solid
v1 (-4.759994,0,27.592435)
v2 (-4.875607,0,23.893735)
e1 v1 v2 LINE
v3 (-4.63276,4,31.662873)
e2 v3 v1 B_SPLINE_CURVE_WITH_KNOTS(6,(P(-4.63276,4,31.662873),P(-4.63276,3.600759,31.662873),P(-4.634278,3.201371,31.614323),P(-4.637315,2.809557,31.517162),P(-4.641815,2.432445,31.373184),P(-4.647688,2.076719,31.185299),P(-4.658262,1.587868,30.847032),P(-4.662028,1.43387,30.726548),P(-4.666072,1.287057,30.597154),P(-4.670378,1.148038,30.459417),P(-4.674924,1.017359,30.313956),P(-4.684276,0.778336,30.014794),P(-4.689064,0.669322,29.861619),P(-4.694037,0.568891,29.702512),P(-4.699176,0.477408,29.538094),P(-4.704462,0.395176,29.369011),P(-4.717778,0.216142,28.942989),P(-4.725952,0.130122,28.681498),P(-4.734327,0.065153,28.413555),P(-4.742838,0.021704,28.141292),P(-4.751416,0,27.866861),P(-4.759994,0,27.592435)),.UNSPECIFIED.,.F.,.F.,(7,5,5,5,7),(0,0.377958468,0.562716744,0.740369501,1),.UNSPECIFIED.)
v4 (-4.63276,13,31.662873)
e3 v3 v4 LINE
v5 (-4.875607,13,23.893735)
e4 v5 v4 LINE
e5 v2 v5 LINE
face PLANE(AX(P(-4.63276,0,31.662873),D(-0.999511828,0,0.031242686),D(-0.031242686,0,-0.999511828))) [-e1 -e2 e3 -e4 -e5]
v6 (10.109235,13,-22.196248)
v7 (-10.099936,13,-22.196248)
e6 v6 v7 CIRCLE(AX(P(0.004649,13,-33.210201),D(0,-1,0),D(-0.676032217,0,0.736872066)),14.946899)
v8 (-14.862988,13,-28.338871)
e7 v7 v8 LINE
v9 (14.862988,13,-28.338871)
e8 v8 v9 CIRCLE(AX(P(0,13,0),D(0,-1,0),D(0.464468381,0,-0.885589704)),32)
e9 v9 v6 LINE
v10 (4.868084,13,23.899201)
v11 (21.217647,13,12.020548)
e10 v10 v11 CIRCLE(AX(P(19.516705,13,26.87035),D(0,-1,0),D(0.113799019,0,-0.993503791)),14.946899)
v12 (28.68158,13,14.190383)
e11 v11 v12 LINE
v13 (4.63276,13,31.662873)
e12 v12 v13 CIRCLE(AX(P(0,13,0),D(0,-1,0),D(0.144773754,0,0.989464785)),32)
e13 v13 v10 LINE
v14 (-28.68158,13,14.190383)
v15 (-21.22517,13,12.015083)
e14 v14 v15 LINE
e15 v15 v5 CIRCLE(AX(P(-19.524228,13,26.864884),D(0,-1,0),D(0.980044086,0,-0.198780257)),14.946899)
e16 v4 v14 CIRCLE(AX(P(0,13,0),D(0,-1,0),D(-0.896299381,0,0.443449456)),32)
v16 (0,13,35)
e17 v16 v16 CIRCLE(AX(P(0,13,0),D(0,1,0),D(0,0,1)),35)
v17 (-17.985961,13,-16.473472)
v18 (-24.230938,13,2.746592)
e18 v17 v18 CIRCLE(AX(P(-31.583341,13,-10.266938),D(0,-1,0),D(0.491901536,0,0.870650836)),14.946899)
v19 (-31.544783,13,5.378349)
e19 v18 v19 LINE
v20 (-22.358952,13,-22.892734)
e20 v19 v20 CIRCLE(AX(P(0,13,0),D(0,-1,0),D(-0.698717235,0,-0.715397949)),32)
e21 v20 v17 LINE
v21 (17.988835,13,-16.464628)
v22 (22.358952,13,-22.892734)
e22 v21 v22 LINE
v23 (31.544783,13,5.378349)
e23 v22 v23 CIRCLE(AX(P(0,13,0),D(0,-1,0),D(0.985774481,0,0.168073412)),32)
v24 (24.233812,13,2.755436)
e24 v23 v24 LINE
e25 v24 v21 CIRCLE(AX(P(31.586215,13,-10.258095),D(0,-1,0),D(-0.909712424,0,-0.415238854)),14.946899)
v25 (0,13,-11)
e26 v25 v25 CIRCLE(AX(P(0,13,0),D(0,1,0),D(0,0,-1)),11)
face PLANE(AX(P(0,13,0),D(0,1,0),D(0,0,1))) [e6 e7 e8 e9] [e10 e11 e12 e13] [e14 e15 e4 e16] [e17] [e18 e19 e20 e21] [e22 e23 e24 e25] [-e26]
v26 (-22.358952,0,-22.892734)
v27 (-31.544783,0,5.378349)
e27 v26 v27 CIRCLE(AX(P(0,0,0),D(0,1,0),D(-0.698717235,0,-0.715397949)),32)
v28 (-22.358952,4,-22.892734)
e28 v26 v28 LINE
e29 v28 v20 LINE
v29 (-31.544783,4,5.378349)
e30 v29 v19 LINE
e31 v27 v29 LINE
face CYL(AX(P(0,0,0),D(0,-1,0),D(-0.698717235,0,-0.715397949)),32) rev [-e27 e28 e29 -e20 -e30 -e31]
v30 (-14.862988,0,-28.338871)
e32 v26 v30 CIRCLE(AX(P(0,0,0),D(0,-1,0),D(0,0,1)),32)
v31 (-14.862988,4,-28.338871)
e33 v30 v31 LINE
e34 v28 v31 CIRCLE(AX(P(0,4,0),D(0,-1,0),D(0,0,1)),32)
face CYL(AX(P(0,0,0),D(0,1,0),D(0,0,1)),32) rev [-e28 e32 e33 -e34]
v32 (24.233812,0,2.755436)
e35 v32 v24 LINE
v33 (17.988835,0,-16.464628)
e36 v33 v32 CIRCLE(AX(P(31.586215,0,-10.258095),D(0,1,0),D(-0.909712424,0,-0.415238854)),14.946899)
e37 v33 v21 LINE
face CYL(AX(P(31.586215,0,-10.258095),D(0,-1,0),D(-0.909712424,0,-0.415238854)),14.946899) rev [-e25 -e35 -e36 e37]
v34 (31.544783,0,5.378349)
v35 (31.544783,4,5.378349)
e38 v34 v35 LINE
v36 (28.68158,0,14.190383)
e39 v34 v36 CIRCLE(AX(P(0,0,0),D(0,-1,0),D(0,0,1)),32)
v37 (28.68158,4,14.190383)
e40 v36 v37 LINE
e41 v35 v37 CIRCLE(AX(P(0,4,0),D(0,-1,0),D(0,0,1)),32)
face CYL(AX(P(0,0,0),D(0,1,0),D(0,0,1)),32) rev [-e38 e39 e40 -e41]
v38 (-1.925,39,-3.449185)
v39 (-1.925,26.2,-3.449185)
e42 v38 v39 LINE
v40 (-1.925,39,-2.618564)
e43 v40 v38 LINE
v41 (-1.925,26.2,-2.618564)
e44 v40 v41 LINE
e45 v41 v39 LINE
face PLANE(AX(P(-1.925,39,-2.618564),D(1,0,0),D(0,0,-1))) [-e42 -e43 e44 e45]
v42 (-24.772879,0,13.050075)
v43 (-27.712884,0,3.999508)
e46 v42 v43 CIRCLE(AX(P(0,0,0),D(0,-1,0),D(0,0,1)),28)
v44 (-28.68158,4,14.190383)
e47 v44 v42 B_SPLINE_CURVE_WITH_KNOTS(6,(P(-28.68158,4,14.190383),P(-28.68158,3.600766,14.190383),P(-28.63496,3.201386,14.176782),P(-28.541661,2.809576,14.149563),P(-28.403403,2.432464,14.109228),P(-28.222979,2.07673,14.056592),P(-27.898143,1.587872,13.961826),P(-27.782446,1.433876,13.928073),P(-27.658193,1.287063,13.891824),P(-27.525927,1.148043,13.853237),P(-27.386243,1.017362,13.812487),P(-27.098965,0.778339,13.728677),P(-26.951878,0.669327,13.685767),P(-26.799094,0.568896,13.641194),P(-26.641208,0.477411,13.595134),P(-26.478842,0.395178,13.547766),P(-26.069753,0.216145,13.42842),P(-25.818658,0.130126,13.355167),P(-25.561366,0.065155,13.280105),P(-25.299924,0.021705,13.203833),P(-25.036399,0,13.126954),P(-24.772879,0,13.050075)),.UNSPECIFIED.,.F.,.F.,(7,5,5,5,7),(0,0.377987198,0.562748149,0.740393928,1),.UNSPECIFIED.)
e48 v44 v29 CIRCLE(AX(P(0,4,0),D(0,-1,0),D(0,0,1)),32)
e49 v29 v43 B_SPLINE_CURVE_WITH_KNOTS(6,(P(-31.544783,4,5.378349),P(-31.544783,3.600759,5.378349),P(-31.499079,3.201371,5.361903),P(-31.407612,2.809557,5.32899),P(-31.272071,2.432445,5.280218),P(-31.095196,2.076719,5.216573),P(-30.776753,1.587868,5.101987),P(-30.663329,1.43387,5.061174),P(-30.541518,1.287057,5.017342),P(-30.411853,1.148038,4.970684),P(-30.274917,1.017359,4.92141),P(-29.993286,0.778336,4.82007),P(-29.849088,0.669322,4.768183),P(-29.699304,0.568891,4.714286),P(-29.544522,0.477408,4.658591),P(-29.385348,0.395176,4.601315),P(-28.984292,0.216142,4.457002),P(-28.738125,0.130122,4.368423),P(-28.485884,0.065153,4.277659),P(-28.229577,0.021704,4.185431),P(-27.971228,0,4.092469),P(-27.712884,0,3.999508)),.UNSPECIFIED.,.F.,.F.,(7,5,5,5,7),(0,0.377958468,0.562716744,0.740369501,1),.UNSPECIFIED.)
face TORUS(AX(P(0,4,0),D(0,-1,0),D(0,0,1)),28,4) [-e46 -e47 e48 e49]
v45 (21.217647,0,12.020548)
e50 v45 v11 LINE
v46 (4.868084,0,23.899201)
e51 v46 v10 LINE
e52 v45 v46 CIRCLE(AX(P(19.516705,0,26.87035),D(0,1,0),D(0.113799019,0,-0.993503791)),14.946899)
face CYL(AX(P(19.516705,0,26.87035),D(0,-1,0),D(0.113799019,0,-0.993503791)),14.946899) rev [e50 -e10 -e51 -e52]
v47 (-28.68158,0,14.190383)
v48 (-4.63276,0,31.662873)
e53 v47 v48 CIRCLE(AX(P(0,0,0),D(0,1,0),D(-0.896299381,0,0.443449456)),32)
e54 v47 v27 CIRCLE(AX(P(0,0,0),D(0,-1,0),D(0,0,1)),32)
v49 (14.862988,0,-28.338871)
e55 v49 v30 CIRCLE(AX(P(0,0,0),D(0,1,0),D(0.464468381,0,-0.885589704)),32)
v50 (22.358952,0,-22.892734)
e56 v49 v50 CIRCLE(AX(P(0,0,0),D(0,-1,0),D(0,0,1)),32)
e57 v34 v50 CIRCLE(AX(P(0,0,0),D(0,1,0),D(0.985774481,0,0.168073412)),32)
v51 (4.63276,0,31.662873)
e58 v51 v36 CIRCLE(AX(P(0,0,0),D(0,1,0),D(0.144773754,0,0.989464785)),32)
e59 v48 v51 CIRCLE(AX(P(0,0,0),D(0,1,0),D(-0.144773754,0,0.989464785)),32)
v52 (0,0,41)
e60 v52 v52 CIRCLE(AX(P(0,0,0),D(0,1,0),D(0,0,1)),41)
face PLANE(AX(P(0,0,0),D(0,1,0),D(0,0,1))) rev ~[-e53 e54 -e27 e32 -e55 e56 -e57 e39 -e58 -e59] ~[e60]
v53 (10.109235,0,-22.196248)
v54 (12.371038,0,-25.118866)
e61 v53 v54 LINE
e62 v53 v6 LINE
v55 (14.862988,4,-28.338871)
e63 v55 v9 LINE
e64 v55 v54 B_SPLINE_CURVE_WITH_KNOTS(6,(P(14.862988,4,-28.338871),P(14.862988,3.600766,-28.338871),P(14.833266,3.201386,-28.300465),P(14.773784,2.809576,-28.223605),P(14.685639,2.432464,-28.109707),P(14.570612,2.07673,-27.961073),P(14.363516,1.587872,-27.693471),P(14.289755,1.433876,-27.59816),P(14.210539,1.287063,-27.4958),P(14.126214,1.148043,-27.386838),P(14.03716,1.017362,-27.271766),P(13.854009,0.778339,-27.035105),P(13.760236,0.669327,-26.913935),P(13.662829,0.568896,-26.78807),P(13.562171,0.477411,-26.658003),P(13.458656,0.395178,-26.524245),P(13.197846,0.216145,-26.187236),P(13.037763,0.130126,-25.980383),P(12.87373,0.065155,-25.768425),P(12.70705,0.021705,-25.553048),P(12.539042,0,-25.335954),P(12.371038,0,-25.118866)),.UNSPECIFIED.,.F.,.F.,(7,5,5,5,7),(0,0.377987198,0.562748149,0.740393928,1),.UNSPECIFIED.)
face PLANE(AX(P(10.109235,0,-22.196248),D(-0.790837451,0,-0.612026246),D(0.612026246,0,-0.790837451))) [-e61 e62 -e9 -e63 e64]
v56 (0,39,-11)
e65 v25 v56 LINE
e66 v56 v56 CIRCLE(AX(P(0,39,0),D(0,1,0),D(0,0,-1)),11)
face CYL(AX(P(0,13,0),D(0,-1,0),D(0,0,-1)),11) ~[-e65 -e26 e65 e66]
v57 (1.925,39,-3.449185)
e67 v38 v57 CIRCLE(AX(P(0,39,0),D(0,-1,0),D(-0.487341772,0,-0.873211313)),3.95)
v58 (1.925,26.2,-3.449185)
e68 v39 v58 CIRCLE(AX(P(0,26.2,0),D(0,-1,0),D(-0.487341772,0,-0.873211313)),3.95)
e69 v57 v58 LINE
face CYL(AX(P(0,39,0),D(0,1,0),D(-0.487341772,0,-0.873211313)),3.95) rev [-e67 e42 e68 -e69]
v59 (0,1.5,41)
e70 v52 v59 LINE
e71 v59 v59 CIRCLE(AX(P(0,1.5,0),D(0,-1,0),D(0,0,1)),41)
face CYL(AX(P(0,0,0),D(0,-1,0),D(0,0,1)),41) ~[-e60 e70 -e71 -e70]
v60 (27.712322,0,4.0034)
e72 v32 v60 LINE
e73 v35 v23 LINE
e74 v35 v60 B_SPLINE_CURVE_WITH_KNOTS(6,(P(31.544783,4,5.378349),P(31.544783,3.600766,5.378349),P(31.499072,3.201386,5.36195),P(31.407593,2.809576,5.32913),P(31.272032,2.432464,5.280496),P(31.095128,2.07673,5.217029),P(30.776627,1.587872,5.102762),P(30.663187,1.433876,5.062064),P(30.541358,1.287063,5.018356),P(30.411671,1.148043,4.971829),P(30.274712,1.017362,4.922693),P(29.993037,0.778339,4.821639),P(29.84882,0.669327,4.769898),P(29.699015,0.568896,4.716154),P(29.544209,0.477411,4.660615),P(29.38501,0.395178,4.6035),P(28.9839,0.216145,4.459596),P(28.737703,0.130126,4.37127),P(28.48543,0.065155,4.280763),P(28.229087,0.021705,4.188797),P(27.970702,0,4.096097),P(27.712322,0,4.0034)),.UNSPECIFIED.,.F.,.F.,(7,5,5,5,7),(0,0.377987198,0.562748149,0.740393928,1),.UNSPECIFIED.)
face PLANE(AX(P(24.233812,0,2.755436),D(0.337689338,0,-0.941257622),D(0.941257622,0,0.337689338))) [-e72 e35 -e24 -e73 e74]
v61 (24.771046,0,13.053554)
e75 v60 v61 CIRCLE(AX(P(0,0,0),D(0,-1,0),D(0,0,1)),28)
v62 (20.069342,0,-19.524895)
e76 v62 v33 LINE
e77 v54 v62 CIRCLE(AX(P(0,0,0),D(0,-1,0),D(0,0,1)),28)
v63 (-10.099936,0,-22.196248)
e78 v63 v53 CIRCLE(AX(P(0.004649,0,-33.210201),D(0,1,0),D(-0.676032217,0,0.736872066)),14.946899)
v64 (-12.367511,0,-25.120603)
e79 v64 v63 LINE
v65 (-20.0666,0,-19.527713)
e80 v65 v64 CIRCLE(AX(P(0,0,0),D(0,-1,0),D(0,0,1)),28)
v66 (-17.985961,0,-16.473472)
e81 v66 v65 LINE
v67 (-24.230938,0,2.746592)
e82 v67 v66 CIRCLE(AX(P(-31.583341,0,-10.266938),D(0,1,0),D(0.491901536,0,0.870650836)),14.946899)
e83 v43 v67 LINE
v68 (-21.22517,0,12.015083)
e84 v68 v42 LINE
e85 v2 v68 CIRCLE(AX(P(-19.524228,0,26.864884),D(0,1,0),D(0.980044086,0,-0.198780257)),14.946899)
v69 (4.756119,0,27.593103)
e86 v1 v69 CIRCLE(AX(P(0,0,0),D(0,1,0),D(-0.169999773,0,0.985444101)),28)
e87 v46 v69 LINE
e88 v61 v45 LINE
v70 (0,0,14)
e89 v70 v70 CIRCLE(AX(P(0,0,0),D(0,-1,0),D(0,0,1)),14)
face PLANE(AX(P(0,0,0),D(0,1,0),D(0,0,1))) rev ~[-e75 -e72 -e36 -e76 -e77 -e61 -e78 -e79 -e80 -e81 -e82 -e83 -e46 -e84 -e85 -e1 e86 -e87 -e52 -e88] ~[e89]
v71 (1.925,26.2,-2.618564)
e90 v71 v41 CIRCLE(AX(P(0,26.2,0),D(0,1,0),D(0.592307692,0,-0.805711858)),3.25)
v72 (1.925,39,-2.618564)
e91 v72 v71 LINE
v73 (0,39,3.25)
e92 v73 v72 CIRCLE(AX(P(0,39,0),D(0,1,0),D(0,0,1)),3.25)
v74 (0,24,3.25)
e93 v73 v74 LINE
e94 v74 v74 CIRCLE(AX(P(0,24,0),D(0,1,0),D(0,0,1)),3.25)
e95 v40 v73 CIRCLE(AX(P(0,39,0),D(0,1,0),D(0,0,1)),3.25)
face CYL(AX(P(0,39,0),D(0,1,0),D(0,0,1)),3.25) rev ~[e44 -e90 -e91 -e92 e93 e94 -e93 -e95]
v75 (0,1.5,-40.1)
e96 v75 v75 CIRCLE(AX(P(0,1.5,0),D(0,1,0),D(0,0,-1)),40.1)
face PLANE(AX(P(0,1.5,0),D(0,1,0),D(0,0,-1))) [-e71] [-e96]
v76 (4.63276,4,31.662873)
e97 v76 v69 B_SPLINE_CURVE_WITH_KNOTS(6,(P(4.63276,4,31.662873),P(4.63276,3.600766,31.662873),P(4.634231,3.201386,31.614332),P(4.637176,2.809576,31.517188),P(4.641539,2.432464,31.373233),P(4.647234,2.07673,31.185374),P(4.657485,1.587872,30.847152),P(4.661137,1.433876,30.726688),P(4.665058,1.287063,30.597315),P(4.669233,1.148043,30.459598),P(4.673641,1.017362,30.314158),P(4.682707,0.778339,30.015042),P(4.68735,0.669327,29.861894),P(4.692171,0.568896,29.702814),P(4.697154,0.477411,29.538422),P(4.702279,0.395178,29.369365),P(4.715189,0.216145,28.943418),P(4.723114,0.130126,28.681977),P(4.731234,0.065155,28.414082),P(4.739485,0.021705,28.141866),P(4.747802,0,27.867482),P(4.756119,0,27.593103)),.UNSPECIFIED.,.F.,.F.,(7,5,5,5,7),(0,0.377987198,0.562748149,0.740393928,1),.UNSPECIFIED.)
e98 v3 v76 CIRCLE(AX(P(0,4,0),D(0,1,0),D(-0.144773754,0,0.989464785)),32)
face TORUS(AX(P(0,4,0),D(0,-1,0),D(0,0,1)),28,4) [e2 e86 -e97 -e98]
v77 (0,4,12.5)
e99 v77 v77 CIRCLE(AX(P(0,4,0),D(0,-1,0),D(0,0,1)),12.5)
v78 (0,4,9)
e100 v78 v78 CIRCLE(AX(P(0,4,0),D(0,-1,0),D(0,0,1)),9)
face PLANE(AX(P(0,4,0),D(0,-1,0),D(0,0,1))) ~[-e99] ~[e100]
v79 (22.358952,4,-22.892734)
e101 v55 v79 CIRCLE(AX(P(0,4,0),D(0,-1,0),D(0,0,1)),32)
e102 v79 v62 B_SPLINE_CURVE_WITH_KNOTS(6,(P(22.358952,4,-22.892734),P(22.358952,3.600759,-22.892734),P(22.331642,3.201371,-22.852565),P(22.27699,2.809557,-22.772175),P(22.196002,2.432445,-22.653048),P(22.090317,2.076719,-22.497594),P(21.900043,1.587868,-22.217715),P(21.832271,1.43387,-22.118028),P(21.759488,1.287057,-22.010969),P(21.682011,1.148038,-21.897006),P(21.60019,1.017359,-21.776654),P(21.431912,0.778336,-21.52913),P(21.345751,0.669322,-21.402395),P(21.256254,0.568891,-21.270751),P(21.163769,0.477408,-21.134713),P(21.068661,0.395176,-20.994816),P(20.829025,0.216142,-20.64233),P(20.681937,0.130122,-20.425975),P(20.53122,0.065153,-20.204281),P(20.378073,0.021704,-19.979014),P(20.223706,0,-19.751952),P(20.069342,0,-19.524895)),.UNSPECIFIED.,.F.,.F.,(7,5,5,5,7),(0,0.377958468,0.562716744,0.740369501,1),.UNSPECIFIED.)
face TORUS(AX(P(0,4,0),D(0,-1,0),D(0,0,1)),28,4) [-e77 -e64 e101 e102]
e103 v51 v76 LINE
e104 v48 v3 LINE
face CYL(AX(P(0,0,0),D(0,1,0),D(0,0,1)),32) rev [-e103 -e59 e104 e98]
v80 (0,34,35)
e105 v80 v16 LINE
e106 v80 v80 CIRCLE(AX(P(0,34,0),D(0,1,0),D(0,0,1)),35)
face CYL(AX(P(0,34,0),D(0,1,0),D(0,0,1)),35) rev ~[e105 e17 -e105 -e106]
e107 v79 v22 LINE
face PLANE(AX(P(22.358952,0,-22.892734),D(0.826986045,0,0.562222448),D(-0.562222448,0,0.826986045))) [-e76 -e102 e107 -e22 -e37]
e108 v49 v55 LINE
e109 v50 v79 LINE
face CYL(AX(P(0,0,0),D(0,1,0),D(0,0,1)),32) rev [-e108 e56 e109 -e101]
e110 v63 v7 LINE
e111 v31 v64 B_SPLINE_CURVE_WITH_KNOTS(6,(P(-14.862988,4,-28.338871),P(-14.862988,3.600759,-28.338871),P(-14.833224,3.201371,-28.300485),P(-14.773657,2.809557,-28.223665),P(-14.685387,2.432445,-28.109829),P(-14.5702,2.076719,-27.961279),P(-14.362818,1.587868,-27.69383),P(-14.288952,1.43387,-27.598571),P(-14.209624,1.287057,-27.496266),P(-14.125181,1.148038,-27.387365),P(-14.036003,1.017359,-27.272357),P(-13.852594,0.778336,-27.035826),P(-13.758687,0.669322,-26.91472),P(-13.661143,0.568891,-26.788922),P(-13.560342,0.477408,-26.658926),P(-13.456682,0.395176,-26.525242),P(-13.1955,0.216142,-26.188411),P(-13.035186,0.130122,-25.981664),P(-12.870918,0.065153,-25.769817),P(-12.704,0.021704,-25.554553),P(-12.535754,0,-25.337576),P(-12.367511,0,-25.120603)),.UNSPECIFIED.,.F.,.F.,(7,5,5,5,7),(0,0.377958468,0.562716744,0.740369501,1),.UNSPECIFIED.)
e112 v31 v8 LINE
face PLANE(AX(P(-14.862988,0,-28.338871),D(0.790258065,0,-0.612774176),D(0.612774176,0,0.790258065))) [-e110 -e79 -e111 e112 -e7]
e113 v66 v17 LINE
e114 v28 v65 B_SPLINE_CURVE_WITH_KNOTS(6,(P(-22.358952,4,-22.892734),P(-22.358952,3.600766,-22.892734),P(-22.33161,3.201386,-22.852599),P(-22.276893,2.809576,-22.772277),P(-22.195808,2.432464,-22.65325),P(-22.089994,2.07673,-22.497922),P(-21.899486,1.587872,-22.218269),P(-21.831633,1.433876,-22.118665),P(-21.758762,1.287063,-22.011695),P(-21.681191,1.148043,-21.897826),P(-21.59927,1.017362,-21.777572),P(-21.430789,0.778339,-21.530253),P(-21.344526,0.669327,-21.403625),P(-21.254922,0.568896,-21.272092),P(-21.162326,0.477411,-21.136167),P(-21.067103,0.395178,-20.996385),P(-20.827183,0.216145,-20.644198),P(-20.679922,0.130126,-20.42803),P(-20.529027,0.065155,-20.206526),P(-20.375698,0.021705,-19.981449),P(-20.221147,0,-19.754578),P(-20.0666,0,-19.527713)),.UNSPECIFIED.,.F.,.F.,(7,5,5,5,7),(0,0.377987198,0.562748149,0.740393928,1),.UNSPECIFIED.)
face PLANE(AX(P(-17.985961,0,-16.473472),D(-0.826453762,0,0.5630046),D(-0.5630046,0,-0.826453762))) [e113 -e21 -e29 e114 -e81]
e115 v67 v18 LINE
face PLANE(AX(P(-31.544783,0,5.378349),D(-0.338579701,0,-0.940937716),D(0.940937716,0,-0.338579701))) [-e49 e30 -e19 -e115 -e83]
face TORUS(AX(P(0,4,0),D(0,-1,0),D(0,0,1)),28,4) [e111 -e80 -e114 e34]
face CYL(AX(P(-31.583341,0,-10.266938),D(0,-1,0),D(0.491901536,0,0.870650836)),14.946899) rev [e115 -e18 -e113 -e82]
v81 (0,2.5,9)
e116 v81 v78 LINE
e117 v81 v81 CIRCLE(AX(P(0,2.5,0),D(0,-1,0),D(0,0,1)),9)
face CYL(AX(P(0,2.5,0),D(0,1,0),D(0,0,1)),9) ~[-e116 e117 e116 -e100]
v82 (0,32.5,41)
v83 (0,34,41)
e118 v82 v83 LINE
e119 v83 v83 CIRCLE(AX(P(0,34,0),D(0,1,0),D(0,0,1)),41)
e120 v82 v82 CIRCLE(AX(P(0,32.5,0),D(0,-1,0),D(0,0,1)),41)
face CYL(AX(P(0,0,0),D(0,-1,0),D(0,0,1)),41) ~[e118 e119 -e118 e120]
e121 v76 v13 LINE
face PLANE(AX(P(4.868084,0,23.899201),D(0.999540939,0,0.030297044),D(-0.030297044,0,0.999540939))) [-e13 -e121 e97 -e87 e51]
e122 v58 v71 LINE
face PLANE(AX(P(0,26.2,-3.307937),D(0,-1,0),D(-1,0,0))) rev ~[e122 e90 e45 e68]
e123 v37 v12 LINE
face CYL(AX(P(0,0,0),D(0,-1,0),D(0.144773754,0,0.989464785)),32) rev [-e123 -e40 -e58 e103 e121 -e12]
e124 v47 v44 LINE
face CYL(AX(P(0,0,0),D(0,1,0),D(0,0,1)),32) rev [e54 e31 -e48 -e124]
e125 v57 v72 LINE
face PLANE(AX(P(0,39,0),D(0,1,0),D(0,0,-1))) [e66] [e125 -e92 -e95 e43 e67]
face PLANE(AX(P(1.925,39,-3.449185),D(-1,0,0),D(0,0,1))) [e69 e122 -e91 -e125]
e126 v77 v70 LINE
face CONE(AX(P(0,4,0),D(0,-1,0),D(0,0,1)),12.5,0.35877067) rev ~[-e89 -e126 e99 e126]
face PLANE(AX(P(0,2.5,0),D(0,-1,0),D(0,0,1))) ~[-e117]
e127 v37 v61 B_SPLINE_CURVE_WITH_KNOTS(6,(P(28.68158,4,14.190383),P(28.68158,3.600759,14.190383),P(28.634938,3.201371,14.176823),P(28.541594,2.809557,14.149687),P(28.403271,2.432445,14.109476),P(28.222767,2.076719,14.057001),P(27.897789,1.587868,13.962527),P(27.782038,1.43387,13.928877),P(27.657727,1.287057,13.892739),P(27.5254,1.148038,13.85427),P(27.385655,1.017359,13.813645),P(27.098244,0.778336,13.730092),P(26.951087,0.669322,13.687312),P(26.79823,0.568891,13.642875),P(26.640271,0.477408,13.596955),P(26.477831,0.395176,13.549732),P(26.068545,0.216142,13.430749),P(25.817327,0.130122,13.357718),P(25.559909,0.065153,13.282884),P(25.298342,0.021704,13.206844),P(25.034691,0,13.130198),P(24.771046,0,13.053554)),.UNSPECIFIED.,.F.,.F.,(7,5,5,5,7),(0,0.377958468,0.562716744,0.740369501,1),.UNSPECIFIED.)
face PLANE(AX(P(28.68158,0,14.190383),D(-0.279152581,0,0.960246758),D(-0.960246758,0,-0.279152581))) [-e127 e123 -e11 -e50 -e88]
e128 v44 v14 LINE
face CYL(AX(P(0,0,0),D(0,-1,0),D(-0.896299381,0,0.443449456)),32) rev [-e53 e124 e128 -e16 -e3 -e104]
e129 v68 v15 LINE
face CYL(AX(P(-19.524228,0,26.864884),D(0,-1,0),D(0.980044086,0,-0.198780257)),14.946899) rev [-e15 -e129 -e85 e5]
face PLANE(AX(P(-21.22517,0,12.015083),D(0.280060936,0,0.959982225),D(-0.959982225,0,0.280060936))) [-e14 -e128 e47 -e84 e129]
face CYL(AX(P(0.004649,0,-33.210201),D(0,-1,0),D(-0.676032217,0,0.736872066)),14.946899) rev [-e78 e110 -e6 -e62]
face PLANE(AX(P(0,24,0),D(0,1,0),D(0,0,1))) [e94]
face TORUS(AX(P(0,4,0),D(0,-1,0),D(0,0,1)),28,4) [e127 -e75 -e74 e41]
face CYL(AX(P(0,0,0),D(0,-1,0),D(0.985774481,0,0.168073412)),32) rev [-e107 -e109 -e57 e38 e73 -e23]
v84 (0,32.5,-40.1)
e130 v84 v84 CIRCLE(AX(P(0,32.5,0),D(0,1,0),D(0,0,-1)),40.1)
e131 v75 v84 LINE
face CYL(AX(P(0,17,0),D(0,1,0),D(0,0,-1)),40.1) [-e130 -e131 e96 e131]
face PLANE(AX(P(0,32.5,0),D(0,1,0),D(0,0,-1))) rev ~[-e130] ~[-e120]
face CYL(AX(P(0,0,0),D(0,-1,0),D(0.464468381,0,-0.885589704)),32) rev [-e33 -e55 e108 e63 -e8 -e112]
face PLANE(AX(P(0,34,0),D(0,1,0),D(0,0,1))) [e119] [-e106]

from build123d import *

# Parameters (mm, degrees)
SKETCH1_R             = 41
BOSS_EXTRUDE1_DEPTH   = 34
SKETCH2_R             = 35
CUT_EXTRUDE1_DEPTH    = 21
CUT_EXTRUDE2_DEPTH    = 21
SKETCH6_R             = 11
BOSS_EXTRUDE2_DEPTH   = 26
ESBO_O1_R             = 3.25
CORTE_EXTRUS_O1_DEPTH = 15
ESBO_O2_W             = 0.9
ESBO_O2_H             = 31
CORTE_EXTRUS_O4_DEPTH = 12.8


with BuildPart() as part:
    # Sketch1 → Boss-Extrude1 (new body)
    with BuildSketch(Plane(origin=(0, 0, 0), x_dir=(1, 0, 0), z_dir=(0, 1, 0))):
        with Locations(Location((0, 0, 0), (0, 0, 270))):
            Circle(SKETCH1_R)
    extrude(amount=BOSS_EXTRUDE1_DEPTH)

    # Sketch2 → Cut-Extrude1 (cut)
    with BuildSketch(Plane(origin=(0, 34, 0), x_dir=(1, 0, 0), z_dir=(0, 1, 0))):
        with Locations(Location((0, 0, 0), (0, 0, 270))):
            Circle(SKETCH2_R)
    extrude(amount=-CUT_EXTRUDE1_DEPTH, mode=Mode.SUBTRACT)

    # Sketch3 → Cut-Extrude2 (cut)
    with BuildSketch(Plane.XZ):
        with BuildLine():
            Line((-4.632760116, 31.662873112), (-4.875607394, 23.89373544))
            ThreePointArc((-4.875607394, 23.89373544), (-10.738660694, 14.77258834), (-21.225170188, 12.015082756))
            Line((-21.225170188, 12.015082756), (-28.681580191, 14.190382579))
            ThreePointArc((-28.681580191, 14.190382579), (-18.809128073, 25.88854382), (-4.632760116, 31.662873112))
        make_face()
        with BuildLine():
            Line((28.681580191, 14.190382579), (21.217647246, 12.020548493))
            ThreePointArc((21.217647246, 12.020548493), (10.731137752, 14.778054077), (4.868084452, 23.899201177))
            Line((4.868084452, 23.899201177), (4.632760116, 31.662873112))
            ThreePointArc((4.632760116, 31.662873112), (18.809128073, 25.88854382), (28.681580191, 14.190382579))
        make_face()
        with BuildLine():
            Line((22.358951525, -22.892734365), (17.988834553, -16.464627908))
            ThreePointArc((17.988834553, -16.464627908), (17.370868563, -5.639248633), (24.23381184, 2.755435876))
            Line((24.23381184, 2.755435876), (31.544783405, 5.378349186))
            ThreePointArc((31.544783405, 5.378349186), (30.433808521, -9.88854382), (22.358951525, -22.892734365))
        make_face()
        with BuildLine():
            Line((-14.862988196, -28.338870512), (-10.099936075, -22.196248152))
            ThreePointArc((-10.099936075, -22.196248152), (0.004649434, -18.263301403), (10.109234942, -22.196248152))
            Line((10.109234942, -22.196248152), (14.862988196, -28.338870512))
            ThreePointArc((14.862988196, -28.338870512), (0, -32), (-14.862988196, -28.338870512))
        make_face()
        with BuildLine():
            Line((-31.544783405, 5.378349186), (-24.230938331, 2.746592128))
            ThreePointArc((-24.230938331, 2.746592128), (-17.367995055, -5.648092381), (-17.985961045, -16.473471657))
            Line((-17.985961045, -16.473471657), (-22.358951525, -22.892734365))
            ThreePointArc((-22.358951525, -22.892734365), (-30.433808521, -9.88854382), (-31.544783405, 5.378349186))
        make_face()
    extrude(amount=-CUT_EXTRUDE2_DEPTH, mode=Mode.SUBTRACT)

    # Sketch5 → Cut-Revolve1 (revolve, cut)
    with BuildSketch(Plane.XY, mode=Mode.PRIVATE) as cut_revolve1_sk:
        with BuildLine():
            Line((28, 0), (32, 0))
            Line((32, 0), (32, 4))
            ThreePointArc((32, 4), (30.828427125, 1.171572875), (28, 0))
        make_face()
        Polygon((0, 0), (0, 2.5), (9, 2.5), (9, 4), (12.5, 4), (14, 0), align=None)
    revolve(cut_revolve1_sk.sketch.rotate(Axis((0, 34, 0), (0, -1, 0)), 90), axis=Axis((0, 34, 0), (0, -1, 0)), mode=Mode.SUBTRACT)

    # Sketch6 → Boss-Extrude2 (add)
    with BuildSketch(Plane(origin=(0, 13, 0), x_dir=(1, 0, 0), z_dir=(0, 1, 0))):
        with Locations(Location((0, 0, 0), (0, 0, 90))):
            Circle(SKETCH6_R)
    extrude(amount=BOSS_EXTRUDE2_DEPTH)

    # Esboço1 → Corte-extrusão1 (cut)
    with BuildSketch(Plane(origin=(0, 39, 0), x_dir=(1, 0, 0), z_dir=(0, 1, 0))):
        with Locations(Location((0, 0, 0), (0, 0, 270))):
            Circle(ESBO_O1_R)
    extrude(amount=-CORTE_EXTRUS_O1_DEPTH, mode=Mode.SUBTRACT)

    # Esboço2 → Corte-Revolução1 (revolve, cut)
    with BuildSketch(Plane.XY, mode=Mode.PRIVATE) as corte_revolu_o1_sk:
        with Locations((-40.55, 17)):
            Rectangle(ESBO_O2_W, ESBO_O2_H)
    revolve(corte_revolu_o1_sk.sketch.rotate(Axis((0, -9.512295102, 0), (0, 1, 0)), 270), axis=Axis((0, -9.512295102, 0), (0, 1, 0)), mode=Mode.SUBTRACT)

    # Esboço3 → Corte-extrusão4 (cut)
    with BuildSketch(Plane(origin=(0, 39, 0), x_dir=(1, 0, 0), z_dir=(0, 1, 0))):
        with BuildLine():
            Line((-1.925, 2.618563538), (-1.925, 3.449184686))
            ThreePointArc((-1.925, 3.449184686), (0, 3.95), (1.925, 3.449184686))
            Line((1.925, 3.449184686), (1.925, 2.618563538))
            ThreePointArc((1.925, 2.618563538), (0, 3.25), (-1.925, 2.618563538))
        make_face()
    extrude(amount=-CORTE_EXTRUS_O4_DEPTH, mode=Mode.SUBTRACT)


solid = part.part
